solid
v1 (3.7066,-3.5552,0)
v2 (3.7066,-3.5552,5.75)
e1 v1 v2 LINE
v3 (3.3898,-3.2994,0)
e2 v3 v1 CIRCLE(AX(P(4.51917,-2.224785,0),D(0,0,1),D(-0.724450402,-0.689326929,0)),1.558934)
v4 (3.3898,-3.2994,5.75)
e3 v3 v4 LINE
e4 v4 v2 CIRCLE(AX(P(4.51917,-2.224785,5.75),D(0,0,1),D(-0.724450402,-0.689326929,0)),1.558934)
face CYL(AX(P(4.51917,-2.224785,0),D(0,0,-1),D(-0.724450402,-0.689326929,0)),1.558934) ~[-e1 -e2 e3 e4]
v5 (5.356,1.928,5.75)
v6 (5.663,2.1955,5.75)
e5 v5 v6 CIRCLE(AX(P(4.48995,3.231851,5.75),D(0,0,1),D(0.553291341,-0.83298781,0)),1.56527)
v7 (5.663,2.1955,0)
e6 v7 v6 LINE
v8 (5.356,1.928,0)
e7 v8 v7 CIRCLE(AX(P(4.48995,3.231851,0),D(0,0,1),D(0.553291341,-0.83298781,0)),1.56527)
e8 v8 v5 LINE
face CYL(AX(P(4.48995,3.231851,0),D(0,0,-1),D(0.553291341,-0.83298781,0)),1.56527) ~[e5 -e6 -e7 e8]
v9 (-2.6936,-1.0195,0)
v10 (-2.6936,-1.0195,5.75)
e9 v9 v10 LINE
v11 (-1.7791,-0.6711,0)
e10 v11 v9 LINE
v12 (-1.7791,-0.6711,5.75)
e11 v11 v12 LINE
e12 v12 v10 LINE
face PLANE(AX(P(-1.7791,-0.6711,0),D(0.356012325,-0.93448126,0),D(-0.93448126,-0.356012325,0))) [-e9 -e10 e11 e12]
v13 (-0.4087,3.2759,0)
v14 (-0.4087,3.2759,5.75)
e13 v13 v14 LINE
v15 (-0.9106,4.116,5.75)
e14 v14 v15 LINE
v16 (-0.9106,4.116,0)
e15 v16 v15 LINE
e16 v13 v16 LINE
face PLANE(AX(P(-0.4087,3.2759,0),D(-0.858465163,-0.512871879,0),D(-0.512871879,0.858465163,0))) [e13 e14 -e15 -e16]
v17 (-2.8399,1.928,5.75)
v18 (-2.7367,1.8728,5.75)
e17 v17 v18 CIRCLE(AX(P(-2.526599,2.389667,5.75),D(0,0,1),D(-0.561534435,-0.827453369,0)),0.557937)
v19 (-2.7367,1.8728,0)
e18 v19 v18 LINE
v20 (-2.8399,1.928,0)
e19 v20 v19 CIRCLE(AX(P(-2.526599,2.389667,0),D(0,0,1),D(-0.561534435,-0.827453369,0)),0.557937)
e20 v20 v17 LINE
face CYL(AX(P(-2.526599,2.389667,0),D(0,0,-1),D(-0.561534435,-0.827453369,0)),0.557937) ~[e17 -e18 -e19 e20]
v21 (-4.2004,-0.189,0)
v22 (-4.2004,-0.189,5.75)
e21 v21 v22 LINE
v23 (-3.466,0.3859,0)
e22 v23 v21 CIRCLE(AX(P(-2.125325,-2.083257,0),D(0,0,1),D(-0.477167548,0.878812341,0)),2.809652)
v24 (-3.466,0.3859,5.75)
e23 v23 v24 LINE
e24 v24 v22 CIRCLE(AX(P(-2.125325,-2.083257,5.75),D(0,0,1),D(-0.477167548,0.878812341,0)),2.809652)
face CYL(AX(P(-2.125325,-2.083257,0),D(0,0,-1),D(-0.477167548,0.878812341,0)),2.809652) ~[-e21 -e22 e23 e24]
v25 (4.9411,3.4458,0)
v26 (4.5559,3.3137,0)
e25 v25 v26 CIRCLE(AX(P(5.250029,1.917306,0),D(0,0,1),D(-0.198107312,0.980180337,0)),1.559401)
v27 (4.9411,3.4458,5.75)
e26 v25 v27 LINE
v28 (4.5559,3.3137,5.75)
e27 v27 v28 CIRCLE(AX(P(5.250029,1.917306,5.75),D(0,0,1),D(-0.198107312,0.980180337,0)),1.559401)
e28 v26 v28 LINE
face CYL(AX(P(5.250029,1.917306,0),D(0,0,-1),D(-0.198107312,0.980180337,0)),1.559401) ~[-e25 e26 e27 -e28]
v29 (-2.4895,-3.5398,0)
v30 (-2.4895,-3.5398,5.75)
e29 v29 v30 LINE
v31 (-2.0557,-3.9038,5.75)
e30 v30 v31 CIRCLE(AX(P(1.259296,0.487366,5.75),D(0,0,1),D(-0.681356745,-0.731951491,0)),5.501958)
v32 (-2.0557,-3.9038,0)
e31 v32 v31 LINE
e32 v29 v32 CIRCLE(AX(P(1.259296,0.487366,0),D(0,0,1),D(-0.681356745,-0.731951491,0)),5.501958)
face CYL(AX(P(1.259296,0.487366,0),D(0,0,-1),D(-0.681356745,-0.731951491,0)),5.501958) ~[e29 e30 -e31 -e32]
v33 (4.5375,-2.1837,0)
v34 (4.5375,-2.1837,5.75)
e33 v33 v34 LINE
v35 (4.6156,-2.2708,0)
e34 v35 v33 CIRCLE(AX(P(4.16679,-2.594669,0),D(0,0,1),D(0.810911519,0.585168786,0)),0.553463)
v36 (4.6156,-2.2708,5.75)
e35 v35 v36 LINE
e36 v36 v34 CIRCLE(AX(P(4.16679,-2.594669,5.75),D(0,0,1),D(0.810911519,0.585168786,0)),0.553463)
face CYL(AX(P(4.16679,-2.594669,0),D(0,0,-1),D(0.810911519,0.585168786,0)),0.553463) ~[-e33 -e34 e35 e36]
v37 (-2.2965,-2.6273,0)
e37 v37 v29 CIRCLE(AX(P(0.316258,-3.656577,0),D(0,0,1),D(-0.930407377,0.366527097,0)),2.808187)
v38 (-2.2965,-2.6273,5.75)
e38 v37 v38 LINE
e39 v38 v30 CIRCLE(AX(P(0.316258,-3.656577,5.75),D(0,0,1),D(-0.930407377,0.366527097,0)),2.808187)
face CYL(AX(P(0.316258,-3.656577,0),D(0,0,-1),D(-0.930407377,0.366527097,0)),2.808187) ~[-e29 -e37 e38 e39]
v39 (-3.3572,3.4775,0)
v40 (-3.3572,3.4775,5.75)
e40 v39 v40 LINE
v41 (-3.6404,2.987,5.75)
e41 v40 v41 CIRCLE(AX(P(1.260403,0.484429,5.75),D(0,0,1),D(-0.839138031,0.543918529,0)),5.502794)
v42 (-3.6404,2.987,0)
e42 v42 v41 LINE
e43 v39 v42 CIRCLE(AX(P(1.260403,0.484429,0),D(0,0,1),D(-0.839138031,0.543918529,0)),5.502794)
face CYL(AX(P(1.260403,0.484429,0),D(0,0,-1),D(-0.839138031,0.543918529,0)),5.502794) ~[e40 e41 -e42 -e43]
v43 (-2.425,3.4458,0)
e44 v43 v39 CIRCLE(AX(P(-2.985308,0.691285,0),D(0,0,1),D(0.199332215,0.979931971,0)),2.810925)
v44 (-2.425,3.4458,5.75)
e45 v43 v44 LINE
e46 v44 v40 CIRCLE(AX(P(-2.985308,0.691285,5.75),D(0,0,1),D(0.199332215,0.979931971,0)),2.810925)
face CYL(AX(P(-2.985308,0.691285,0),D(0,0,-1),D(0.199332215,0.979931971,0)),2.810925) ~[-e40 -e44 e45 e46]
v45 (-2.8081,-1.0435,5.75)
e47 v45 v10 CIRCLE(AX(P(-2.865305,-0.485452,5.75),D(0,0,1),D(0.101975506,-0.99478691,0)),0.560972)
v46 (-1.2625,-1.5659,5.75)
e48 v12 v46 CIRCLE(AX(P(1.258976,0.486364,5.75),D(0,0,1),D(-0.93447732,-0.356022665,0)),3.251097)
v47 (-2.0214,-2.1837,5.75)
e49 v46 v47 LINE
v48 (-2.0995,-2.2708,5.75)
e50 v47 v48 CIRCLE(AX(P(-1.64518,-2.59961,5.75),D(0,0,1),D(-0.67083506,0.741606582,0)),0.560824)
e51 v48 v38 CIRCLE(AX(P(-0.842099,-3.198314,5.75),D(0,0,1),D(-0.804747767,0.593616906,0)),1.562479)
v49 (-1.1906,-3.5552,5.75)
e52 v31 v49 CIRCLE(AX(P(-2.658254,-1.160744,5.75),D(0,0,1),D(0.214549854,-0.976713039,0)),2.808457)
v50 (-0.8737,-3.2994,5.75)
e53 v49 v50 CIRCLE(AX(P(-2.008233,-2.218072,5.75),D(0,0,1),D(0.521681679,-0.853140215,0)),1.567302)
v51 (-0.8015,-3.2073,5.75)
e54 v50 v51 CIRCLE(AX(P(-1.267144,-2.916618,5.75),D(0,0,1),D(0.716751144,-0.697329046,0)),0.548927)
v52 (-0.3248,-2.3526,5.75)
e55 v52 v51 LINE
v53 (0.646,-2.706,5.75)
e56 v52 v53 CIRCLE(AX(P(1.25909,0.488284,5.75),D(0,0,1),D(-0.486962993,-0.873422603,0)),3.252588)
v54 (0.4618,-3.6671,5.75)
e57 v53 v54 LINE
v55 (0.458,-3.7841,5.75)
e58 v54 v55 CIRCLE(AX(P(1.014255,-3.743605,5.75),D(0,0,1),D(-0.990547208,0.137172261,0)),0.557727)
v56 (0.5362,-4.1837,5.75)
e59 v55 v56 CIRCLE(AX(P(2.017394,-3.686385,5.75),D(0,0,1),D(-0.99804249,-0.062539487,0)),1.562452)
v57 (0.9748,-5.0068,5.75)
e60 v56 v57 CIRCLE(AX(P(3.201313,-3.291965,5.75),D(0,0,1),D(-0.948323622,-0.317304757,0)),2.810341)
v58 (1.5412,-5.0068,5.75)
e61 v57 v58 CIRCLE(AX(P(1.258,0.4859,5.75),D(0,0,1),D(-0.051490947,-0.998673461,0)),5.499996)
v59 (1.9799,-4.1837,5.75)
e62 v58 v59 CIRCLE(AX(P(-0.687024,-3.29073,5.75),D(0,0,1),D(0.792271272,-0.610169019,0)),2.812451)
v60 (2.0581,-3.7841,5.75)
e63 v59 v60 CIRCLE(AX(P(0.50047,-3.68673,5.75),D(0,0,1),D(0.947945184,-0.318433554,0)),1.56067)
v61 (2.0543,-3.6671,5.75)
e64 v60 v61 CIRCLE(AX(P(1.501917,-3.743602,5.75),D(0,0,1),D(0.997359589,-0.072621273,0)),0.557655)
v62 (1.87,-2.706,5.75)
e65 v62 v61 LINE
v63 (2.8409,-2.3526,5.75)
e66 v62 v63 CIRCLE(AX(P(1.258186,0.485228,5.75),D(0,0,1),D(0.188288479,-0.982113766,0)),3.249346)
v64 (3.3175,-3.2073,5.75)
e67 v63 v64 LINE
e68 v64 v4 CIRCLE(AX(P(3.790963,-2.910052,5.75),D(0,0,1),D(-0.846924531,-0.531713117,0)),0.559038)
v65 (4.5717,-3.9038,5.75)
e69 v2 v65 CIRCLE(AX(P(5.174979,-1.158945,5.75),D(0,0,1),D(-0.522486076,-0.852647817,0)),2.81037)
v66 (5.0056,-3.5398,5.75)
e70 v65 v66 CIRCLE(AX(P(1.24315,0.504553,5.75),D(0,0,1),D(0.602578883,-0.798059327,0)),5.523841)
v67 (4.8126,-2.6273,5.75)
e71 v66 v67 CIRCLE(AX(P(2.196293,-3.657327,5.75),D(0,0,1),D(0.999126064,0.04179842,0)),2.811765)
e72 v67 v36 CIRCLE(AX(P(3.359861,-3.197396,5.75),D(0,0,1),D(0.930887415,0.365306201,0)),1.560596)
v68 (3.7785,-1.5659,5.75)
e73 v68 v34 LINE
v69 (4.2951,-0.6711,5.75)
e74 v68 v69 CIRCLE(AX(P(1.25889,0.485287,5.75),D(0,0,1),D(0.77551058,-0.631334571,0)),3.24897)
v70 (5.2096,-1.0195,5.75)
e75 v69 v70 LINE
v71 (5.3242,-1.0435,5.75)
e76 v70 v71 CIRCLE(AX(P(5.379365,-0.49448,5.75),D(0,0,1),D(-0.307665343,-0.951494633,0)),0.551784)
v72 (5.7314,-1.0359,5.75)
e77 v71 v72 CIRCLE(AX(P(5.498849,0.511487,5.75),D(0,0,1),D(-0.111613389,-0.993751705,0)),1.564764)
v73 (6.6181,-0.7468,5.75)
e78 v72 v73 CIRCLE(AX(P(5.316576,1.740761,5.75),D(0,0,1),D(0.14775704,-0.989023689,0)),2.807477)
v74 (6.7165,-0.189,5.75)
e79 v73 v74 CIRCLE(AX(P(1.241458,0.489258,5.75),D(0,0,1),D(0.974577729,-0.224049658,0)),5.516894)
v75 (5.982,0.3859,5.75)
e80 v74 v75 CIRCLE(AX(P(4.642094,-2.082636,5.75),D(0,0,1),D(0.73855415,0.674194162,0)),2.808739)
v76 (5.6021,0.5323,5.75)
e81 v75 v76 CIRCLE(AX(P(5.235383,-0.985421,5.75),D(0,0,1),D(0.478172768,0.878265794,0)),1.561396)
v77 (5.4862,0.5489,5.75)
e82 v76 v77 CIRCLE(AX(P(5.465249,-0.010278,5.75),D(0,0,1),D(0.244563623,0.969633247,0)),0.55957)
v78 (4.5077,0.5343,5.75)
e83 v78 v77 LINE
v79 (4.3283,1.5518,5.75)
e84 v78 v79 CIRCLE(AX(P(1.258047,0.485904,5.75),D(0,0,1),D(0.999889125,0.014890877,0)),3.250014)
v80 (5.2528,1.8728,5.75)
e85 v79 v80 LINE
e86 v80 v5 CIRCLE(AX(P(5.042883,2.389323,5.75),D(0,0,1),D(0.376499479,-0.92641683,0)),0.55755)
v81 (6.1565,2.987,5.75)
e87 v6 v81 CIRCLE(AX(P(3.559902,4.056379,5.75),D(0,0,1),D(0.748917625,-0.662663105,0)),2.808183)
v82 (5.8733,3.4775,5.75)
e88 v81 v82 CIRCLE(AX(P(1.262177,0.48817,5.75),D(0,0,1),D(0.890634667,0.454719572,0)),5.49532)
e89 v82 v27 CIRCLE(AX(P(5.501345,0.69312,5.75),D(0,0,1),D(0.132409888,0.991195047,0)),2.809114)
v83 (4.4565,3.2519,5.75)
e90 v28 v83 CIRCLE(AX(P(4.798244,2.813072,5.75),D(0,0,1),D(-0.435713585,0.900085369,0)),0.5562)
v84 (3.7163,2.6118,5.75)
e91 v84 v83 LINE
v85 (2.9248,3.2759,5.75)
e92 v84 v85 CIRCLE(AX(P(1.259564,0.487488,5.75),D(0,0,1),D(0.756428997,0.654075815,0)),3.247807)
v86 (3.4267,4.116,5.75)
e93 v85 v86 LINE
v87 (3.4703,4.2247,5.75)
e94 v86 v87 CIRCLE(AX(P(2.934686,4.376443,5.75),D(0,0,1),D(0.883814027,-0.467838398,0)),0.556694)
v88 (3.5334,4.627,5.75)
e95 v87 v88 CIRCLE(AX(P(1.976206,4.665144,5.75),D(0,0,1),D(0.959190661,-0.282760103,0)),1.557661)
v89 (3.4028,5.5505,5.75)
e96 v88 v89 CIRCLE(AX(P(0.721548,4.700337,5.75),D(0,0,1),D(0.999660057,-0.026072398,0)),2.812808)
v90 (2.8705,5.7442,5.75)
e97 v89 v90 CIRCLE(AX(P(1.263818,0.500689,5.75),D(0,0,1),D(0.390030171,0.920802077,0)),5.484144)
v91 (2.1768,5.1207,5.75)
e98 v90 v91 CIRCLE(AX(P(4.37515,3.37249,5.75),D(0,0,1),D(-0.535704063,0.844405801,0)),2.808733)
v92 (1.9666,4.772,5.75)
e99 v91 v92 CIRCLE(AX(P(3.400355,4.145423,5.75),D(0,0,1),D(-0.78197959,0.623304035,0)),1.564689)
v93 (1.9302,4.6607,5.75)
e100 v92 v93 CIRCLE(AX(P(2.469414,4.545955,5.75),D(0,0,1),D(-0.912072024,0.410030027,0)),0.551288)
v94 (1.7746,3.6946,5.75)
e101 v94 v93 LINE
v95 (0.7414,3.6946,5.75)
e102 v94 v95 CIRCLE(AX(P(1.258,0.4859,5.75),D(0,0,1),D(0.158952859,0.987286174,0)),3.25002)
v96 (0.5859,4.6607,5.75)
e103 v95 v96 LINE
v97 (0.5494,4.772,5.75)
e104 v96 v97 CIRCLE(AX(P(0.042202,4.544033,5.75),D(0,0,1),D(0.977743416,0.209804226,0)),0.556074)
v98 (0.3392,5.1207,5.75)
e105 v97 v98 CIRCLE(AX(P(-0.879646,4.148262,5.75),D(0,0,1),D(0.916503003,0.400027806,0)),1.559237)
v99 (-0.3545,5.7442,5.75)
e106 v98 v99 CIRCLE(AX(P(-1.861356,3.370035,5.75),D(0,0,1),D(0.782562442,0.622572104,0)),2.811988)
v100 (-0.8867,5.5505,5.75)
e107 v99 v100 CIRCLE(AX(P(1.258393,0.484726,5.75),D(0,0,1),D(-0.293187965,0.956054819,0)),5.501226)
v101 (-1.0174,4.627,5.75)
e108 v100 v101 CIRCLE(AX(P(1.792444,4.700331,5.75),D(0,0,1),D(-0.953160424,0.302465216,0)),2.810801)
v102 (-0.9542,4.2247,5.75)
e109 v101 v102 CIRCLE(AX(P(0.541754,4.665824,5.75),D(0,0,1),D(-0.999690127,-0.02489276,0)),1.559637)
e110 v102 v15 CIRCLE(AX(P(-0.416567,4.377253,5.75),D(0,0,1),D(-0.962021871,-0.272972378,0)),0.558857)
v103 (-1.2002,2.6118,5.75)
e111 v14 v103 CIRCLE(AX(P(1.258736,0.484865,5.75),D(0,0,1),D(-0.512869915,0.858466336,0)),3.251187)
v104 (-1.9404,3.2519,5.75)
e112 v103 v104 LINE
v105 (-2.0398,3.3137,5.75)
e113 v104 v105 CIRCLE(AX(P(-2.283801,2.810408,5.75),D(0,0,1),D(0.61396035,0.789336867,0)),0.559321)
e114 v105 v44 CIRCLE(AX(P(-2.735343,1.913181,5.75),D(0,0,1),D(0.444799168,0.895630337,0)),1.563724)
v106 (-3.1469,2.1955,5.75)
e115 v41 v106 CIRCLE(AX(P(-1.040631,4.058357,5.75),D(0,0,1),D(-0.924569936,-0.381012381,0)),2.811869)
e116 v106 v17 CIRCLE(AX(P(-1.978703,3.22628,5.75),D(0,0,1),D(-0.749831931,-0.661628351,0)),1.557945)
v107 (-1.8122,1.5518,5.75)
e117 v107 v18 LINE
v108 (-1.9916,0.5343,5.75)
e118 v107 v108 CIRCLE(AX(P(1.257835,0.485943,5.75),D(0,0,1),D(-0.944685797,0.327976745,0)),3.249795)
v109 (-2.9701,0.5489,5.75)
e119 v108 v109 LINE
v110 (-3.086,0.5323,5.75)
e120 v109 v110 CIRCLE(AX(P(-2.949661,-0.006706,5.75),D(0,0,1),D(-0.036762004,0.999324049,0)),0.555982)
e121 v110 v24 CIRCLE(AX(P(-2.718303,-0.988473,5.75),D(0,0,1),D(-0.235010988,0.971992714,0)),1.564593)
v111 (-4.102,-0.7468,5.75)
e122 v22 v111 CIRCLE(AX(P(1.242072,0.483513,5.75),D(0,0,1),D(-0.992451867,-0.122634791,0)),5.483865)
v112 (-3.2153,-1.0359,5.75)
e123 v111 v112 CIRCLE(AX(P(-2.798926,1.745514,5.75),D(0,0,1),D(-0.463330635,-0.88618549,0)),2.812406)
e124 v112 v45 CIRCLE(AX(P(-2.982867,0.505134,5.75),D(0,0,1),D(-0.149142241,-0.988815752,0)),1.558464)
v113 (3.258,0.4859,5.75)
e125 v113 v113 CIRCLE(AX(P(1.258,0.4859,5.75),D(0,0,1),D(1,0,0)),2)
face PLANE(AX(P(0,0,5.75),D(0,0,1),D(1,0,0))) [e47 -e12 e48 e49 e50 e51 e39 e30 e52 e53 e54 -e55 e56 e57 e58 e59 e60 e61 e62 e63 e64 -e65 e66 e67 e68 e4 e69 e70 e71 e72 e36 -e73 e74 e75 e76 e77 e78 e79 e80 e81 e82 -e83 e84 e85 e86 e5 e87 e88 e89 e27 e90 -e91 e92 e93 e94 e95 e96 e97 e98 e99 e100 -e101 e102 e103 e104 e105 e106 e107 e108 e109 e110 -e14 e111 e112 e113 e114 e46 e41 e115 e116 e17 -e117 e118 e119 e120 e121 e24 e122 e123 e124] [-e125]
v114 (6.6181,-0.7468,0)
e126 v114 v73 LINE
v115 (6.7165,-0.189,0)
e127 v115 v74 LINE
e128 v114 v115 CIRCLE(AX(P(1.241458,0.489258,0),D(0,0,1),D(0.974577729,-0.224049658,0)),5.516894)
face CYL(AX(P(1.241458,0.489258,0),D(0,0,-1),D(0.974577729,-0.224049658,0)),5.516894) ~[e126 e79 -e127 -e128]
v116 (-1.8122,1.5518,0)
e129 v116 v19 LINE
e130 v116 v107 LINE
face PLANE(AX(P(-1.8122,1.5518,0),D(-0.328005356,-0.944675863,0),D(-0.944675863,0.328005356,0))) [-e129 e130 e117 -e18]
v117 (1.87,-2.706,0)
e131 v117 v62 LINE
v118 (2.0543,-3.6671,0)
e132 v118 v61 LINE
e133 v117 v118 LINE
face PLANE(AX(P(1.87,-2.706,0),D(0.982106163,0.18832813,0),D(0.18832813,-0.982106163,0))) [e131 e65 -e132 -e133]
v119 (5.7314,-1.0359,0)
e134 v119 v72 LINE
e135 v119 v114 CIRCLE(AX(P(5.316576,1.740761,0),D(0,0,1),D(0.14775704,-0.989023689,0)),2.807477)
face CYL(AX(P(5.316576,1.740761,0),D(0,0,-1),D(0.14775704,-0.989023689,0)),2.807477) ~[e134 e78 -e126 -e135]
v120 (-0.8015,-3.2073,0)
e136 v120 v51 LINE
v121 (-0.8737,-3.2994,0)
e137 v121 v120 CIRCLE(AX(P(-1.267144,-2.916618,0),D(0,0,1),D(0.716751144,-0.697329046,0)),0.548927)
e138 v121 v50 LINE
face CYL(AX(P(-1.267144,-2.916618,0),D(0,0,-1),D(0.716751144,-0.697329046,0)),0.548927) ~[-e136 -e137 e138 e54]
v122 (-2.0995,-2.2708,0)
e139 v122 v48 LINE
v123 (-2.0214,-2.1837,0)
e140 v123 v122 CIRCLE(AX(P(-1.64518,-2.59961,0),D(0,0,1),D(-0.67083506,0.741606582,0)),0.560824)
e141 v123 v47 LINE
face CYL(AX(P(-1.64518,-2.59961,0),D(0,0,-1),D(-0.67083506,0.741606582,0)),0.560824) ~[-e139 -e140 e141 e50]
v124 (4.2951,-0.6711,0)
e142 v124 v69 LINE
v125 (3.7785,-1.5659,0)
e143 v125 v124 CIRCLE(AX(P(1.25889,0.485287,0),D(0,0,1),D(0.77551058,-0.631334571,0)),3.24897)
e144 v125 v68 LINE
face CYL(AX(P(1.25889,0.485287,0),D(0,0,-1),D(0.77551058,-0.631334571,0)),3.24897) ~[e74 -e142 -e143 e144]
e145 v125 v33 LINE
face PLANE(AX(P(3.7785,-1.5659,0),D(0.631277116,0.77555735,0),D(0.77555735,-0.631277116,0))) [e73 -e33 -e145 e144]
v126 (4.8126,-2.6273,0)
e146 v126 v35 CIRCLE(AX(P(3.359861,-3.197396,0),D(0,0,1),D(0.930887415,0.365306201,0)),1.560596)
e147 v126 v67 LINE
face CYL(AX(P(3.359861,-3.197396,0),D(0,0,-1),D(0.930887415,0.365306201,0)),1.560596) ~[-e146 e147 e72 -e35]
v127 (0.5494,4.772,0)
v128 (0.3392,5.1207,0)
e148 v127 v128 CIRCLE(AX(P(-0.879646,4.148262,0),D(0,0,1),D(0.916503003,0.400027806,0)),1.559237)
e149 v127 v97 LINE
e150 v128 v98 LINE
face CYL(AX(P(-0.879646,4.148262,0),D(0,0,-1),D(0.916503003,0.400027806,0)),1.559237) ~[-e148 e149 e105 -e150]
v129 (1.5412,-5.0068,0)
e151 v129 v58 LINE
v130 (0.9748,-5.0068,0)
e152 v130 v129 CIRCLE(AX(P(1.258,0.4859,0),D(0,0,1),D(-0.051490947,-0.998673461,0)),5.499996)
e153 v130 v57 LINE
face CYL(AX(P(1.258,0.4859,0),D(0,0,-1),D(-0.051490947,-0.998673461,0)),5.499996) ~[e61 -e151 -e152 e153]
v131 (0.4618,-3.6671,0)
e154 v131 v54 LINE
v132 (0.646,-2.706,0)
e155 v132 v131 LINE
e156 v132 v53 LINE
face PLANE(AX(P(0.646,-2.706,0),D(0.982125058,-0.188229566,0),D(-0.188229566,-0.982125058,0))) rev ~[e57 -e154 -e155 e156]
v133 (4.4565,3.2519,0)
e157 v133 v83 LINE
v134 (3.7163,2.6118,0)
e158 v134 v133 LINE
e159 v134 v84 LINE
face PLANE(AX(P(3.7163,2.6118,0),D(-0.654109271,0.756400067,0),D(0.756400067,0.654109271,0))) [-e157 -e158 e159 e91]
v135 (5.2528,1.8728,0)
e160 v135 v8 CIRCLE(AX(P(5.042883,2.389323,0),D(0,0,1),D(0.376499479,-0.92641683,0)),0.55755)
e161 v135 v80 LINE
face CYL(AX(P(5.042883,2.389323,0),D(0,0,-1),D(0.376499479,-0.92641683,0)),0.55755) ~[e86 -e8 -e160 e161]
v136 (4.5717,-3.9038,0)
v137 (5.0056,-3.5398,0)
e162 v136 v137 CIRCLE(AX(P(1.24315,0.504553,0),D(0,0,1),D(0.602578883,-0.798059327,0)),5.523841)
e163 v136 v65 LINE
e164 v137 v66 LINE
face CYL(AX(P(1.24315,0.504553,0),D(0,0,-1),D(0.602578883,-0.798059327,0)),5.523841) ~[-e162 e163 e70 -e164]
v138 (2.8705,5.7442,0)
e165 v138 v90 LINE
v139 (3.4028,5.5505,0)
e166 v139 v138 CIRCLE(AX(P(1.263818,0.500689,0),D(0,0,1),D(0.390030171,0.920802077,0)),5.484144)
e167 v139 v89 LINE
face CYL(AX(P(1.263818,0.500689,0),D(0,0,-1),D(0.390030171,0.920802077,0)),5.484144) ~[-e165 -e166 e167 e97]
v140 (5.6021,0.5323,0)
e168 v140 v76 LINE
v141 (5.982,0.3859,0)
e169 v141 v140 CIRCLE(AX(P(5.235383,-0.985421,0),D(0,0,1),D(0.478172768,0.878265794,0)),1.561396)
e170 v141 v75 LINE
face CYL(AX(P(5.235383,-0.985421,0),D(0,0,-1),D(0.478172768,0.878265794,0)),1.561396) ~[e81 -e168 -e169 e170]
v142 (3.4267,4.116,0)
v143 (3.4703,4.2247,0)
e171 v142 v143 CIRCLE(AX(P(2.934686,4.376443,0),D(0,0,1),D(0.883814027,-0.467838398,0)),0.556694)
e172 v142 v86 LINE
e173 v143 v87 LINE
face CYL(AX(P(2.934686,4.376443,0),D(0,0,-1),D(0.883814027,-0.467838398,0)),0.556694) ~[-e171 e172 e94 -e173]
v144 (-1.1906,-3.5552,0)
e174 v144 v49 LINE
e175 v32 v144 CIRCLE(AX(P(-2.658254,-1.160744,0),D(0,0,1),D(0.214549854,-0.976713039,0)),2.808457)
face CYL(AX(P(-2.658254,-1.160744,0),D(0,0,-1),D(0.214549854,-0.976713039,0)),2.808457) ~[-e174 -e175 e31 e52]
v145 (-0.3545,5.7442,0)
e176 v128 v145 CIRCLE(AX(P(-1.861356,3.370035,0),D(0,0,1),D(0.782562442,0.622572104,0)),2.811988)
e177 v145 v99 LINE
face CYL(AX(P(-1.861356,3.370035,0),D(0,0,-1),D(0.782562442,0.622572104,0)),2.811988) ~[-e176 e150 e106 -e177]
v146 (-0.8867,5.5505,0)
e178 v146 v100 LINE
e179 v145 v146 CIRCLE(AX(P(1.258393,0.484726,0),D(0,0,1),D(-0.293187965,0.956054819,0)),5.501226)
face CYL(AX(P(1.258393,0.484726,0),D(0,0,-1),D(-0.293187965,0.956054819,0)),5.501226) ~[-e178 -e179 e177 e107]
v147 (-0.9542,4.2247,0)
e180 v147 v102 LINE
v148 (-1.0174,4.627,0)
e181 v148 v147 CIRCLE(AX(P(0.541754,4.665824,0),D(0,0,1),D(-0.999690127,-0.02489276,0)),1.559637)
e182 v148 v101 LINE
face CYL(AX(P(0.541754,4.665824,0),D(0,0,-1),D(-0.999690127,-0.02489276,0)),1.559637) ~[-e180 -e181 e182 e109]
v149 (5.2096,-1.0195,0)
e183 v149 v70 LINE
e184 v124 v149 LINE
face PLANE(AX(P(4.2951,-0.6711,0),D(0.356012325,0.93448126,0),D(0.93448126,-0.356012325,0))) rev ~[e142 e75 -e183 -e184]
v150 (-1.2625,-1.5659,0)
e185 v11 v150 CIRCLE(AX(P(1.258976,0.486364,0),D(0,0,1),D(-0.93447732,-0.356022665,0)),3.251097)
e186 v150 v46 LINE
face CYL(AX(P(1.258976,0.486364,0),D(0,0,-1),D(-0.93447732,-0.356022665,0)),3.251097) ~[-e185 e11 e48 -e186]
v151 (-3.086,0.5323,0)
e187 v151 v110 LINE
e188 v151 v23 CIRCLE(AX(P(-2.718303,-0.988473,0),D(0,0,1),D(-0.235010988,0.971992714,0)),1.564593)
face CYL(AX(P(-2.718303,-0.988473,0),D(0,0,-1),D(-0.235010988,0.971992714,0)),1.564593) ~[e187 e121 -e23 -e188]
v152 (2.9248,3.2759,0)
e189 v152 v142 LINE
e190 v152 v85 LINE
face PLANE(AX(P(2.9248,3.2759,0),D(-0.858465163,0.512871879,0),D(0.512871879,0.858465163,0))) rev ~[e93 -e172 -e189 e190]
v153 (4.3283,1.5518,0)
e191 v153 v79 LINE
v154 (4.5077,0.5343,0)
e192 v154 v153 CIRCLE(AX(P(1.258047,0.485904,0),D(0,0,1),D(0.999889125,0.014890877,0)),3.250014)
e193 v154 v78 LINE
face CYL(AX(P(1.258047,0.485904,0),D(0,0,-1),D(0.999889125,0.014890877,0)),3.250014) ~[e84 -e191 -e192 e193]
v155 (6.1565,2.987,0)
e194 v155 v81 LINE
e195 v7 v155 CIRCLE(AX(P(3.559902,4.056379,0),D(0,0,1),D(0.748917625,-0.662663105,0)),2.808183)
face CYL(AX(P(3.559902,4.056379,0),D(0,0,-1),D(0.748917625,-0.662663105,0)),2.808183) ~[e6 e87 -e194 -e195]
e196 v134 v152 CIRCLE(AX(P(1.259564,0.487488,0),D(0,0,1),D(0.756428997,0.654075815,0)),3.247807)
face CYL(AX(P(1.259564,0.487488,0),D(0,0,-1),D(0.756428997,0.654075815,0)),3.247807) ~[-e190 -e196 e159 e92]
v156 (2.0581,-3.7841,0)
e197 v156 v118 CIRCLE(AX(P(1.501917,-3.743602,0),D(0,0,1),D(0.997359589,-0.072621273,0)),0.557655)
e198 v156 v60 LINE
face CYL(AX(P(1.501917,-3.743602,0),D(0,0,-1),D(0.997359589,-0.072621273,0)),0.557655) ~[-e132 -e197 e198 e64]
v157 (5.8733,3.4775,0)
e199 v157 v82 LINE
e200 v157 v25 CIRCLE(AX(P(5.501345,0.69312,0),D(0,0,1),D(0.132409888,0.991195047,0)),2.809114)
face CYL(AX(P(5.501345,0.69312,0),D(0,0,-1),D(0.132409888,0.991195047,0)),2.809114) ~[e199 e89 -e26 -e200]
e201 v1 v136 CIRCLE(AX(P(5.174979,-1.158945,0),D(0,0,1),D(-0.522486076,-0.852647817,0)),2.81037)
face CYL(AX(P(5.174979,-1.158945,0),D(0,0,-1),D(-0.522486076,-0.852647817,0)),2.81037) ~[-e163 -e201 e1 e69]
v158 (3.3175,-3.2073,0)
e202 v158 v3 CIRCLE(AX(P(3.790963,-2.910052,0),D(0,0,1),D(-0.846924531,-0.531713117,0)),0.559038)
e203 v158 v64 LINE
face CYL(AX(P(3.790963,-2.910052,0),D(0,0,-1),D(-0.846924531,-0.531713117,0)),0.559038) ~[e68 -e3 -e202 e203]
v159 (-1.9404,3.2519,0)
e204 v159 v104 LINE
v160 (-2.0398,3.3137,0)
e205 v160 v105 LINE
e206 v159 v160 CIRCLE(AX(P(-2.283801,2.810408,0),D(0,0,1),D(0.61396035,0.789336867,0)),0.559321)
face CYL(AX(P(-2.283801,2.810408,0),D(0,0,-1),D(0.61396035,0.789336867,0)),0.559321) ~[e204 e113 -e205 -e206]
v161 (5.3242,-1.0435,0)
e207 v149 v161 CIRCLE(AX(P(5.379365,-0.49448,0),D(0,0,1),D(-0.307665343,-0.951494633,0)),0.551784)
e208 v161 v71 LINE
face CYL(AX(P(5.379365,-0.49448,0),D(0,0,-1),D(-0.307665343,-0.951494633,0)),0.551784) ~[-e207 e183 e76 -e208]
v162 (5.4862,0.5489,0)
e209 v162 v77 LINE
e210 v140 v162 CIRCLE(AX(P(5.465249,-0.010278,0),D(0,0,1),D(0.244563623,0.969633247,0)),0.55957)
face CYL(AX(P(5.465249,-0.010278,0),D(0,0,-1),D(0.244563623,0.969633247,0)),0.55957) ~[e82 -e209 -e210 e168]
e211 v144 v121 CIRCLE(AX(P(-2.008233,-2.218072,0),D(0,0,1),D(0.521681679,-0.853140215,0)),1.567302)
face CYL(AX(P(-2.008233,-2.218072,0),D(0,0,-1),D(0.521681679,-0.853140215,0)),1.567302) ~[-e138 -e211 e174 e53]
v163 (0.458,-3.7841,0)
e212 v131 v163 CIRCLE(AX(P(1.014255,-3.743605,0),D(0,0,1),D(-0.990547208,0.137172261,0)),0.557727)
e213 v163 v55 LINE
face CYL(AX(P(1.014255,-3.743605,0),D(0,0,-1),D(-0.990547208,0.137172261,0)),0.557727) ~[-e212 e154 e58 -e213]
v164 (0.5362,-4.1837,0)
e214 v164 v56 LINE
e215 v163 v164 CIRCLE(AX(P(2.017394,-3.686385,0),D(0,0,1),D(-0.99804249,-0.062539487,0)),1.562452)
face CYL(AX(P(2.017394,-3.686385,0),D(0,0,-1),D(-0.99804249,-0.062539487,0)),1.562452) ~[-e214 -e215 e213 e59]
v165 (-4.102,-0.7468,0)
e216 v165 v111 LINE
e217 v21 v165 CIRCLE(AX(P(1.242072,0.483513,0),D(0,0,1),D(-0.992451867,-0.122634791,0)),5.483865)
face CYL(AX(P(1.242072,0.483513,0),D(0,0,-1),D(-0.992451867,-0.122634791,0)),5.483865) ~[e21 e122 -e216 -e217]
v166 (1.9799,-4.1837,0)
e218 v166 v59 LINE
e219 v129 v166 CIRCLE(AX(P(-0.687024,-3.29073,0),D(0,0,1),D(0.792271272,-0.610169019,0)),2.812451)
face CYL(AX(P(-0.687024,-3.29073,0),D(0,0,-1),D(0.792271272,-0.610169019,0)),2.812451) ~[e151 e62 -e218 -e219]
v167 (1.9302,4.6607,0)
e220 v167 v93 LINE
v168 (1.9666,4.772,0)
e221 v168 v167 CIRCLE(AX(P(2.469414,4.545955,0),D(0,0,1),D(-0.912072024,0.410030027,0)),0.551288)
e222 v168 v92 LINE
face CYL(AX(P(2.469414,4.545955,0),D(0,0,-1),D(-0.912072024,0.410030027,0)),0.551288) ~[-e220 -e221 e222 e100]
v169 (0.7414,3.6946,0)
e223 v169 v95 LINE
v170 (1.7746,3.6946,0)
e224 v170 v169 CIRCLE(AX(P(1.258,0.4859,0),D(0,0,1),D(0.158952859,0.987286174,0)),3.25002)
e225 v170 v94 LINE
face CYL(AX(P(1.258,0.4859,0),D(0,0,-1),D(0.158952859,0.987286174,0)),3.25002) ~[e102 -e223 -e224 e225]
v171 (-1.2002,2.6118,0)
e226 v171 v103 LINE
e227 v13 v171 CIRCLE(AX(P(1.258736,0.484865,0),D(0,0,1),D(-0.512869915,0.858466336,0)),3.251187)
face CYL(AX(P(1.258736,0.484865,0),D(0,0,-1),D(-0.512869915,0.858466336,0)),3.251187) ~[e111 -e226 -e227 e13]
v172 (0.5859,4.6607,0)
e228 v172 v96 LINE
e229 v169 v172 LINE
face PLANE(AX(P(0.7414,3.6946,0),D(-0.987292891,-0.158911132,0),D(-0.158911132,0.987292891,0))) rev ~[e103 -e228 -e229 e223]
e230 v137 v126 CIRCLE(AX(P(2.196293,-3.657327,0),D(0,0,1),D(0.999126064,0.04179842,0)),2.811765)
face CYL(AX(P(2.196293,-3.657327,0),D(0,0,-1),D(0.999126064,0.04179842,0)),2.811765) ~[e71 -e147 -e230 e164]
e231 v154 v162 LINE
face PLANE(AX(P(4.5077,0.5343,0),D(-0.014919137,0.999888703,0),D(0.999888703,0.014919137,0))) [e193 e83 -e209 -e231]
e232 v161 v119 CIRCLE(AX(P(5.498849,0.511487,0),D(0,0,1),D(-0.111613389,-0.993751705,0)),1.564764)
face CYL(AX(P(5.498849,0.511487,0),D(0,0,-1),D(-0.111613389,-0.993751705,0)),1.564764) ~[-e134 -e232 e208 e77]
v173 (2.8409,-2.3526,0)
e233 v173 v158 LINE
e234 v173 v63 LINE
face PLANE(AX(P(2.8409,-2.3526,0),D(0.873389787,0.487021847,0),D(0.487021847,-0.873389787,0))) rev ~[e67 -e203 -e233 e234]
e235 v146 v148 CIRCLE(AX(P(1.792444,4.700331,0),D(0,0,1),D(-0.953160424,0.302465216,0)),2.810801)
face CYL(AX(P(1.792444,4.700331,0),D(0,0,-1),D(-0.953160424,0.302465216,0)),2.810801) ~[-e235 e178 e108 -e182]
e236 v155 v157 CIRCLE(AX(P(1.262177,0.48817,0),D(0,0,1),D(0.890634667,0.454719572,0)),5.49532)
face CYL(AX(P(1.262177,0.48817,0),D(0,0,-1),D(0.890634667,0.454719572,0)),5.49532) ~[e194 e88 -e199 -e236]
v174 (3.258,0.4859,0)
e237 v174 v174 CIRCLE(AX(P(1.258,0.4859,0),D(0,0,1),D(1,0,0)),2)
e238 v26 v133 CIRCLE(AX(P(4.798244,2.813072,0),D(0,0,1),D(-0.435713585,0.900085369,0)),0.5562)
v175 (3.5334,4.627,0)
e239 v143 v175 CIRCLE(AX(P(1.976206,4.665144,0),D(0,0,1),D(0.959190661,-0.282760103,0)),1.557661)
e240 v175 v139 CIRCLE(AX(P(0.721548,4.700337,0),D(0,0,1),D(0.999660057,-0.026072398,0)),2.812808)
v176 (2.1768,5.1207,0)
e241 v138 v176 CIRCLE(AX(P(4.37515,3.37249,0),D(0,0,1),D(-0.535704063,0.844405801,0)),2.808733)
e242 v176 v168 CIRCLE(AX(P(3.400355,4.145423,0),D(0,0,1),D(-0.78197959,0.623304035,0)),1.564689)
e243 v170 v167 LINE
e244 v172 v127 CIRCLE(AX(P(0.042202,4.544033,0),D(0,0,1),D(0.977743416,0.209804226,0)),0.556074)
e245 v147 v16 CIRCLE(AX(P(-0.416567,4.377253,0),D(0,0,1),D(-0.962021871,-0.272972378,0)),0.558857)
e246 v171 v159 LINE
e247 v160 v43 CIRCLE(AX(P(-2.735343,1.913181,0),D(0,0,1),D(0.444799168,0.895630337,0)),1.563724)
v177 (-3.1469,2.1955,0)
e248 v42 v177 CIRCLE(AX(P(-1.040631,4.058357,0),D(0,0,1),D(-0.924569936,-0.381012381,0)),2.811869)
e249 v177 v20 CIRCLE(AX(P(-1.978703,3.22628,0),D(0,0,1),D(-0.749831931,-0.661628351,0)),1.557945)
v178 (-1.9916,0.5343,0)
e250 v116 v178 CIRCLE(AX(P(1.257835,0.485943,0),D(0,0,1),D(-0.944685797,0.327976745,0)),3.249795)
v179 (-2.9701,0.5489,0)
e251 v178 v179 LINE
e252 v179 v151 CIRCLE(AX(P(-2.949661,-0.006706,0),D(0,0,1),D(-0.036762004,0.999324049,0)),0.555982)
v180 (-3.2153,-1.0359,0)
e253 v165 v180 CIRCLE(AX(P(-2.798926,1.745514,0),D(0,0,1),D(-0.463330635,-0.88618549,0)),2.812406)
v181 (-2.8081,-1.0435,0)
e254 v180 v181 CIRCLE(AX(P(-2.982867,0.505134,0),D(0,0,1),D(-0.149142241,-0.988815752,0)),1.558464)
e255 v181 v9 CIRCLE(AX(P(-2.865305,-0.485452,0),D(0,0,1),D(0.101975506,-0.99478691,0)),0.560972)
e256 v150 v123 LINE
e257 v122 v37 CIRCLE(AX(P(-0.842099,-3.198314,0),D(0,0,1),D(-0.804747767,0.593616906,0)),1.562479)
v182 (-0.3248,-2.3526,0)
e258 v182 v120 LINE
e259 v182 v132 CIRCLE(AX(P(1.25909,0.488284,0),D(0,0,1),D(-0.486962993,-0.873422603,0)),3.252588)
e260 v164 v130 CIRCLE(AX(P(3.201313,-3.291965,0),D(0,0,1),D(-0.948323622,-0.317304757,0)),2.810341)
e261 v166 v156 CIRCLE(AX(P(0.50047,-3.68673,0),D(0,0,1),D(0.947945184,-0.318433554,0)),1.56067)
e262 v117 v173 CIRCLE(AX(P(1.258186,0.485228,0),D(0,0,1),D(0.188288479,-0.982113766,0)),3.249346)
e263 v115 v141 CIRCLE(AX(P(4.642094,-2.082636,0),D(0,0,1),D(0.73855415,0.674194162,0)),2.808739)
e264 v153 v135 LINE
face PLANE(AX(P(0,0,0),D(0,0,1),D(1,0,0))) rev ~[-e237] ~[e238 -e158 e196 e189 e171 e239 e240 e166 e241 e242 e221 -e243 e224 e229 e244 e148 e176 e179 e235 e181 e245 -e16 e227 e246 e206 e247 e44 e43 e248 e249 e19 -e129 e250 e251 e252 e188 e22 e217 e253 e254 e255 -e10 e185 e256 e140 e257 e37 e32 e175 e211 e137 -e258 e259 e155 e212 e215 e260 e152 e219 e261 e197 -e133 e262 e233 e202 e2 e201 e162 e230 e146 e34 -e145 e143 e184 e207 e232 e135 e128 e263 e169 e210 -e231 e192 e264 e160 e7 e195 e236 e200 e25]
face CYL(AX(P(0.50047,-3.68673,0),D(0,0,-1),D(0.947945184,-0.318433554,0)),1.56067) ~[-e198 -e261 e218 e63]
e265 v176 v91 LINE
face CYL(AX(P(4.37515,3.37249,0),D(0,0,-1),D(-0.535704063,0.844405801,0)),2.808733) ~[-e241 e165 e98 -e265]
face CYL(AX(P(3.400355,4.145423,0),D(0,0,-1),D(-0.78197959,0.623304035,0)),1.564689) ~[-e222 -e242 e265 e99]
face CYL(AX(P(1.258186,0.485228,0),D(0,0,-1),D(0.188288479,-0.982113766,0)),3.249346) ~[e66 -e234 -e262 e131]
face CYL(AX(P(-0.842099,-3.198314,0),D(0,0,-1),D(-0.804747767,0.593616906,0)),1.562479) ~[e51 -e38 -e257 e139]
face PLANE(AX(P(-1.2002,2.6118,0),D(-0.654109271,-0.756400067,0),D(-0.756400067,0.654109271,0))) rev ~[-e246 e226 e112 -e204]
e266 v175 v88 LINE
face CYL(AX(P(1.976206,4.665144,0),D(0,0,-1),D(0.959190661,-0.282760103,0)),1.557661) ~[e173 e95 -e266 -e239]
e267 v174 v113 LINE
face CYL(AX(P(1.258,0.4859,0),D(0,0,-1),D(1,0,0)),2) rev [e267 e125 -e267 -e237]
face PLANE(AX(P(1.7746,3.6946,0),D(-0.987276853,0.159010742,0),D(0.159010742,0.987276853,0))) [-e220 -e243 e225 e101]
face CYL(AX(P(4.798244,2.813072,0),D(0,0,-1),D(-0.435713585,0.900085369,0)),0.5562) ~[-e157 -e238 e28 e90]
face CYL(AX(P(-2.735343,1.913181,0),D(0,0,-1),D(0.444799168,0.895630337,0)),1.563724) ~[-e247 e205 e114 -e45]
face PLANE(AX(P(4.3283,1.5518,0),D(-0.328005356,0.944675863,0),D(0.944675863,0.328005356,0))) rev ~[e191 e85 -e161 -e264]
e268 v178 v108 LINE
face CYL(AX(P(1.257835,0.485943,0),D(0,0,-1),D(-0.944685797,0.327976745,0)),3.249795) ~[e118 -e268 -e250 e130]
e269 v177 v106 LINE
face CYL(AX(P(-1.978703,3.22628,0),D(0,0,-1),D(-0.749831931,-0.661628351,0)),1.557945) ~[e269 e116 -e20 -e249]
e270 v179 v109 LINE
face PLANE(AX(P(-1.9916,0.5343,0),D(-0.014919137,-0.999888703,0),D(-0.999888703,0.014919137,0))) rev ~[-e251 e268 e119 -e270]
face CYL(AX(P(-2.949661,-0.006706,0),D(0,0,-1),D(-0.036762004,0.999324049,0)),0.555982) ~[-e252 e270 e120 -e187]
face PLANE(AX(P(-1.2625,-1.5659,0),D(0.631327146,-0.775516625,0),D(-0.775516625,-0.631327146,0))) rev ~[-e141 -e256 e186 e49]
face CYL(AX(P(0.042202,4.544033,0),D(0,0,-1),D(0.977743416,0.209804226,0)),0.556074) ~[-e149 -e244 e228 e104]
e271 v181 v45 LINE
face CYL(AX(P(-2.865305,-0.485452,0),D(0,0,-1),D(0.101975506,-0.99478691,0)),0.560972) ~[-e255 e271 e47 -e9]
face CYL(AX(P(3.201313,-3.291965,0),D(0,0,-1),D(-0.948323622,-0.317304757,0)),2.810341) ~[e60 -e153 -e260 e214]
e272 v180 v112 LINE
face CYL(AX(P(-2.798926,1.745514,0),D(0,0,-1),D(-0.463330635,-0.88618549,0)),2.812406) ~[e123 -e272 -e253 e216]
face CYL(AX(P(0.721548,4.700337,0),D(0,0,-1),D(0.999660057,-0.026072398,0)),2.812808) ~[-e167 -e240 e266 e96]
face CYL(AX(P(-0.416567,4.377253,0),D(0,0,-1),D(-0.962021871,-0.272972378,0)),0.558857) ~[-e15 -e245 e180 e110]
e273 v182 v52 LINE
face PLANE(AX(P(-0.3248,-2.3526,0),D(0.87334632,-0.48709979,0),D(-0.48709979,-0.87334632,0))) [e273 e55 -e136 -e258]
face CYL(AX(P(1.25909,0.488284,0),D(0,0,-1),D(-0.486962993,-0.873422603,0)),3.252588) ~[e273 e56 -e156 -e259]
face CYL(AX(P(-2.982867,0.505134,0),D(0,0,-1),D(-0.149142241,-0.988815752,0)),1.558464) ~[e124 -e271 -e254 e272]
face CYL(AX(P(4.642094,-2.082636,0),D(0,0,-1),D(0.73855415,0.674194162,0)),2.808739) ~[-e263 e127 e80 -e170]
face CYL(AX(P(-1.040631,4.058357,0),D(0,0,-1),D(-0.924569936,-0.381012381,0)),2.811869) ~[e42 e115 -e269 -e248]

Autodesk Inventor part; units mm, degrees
ref_plane "YZ Plane" through (0, 0, 0) normal (1, 0, 0) x (0, 1, 0)
ref_plane "XZ Plane" through (0, 0, 0) normal (0, 1, 0) x (-1, 0, 0)
ref_plane "XY Plane" through (0, 0, 0) normal (0, 0, 1) x (1, 0, 0)
sketch "スケッチ1" plane through (0, 0, 0) normal (0, 0, 1) x (1, 0, 0)
  arc A0 (1.9666, 4.772) -> (1.9302, 4.6607) centre (2.4755, 4.5436) ccw
  arc A1 (2.1768, 5.1207) -> (1.9666, 4.772) centre (3.3978, 4.1472) ccw
  arc A2 (2.8705, 5.7442) -> (2.1768, 5.1207) centre (4.3759, 3.3715) ccw
  arc A3 (0.5859, 4.6607) -> (0.5494, 4.772) centre (0.0406, 4.5436) ccw
  arc A4 (0.5494, 4.772) -> (0.3392, 5.1207) centre (-0.8817, 4.1472) ccw
  arc A5 (0.3392, 5.1207) -> (-0.3545, 5.7442) centre (-1.8598, 3.3715) ccw
  arc A6 (1.7746, 3.6946) -> (0.7414, 3.6946) centre (1.258, 0.4859) ccw
  arc A7 (-0.3545, 5.7442) -> (-0.8867, 5.5505) centre (1.258, 0.4859) ccw
  line L0 (1.7746, 3.6946) -> (1.9302, 4.6607)
  line L1 (0.7414, 3.6946) -> (0.5859, 4.6607)
  line L2 (-1.2002, 2.6118) -> (-1.9404, 3.2519)
  arc A8 (-1.9404, 3.2519) -> (-2.0398, 3.3137) centre (-2.2829, 2.8117) ccw
  arc A9 (-2.0398, 3.3137) -> (-2.425, 3.4458) centre (-2.7345, 1.9152) ccw
  arc A10 (-2.425, 3.4458) -> (-3.3572, 3.4775) centre (-2.9852, 0.6922) ccw
  arc A11 (-3.3572, 3.4775) -> (-3.6404, 2.987) centre (1.258, 0.4859) ccw
  arc A12 (-0.4087, 3.2759) -> (-1.2002, 2.6118) centre (1.258, 0.4859) ccw
  arc A13 (-0.9542, 4.2247) -> (-0.9106, 4.116) centre (-0.4176, 4.3769) ccw
  line L3 (-0.4087, 3.2759) -> (-0.9106, 4.116)
  arc A14 (-1.0174, 4.627) -> (-0.9542, 4.2247) centre (0.5437, 4.666) ccw
  arc A15 (-0.8867, 5.5505) -> (-1.0174, 4.627) centre (1.7917, 4.7005) ccw
  line L4 (-1.9916, 0.5343) -> (-2.9701, 0.5489)
  arc A16 (-2.9701, 0.5489) -> (-3.086, 0.5323) centre (-2.9495, -0.0085) ccw
  arc A17 (-3.086, 0.5323) -> (-3.466, 0.3859) centre (-2.7192, -0.9856) ccw
  arc A18 (-3.466, 0.3859) -> (-4.2004, -0.189) centre (-2.1251, -2.0836) ccw
  arc A19 (-4.2004, -0.189) -> (-4.102, -0.7468) centre (1.258, 0.4859) ccw
  arc A20 (-1.8122, 1.5518) -> (-1.9916, 0.5343) centre (1.258, 0.4859) ccw
  arc A21 (-2.8399, 1.928) -> (-2.7367, 1.8728) centre (-2.5267, 2.3895) ccw
  line L5 (-1.8122, 1.5518) -> (-2.7367, 1.8728)
  arc A22 (-3.1469, 2.1955) -> (-2.8399, 1.928) centre (-1.9761, 3.2289) ccw
  arc A23 (-3.6404, 2.987) -> (-3.1469, 2.1955) centre (-1.0423, 4.0575) ccw
  line L6 (-1.2625, -1.5659) -> (-2.0214, -2.1837)
  arc A24 (-2.0214, -2.1837) -> (-2.0995, -2.2708) centre (-1.6474, -2.5974) ccw
  arc A25 (-2.0995, -2.2708) -> (-2.2965, -2.6273) centre (-0.8429, -3.1978) ccw
  arc A26 (-2.2965, -2.6273) -> (-2.4895, -3.5398) centre (0.318, -3.6571) ccw
  arc A27 (-2.4895, -3.5398) -> (-2.0557, -3.9038) centre (1.258, 0.4859) ccw
  arc A28 (-1.7791, -0.6711) -> (-1.2625, -1.5659) centre (1.258, 0.4859) ccw
  arc A29 (-2.8081, -1.0435) -> (-2.6936, -1.0195) centre (-2.8648, -0.4887) ccw
  line L7 (-1.7791, -0.6711) -> (-2.6936, -1.0195)
  arc A30 (-3.2153, -1.0359) -> (-2.8081, -1.0435) centre (-2.9826, 0.5083) ccw
  arc A31 (-4.102, -0.7468) -> (-3.2153, -1.0359) centre (-2.7999, 1.7432) ccw
  line L8 (0.646, -2.706) -> (0.4618, -3.6671)
  arc A32 (0.4618, -3.6671) -> (0.458, -3.7841) centre (1.0142, -3.7436) ccw
  arc A33 (0.458, -3.7841) -> (0.5362, -4.1837) centre (2.0165, -3.6865) ccw
  arc A34 (0.5362, -4.1837) -> (0.9748, -5.0068) centre (3.201, -3.2921) ccw
  arc A35 (0.9748, -5.0068) -> (1.5412, -5.0068) centre (1.258, 0.4859) ccw
  arc A36 (-0.3248, -2.3526) -> (0.646, -2.706) centre (1.258, 0.4859) ccw
  arc A37 (-0.8737, -3.2994) -> (-0.8015, -3.2073) centre (-1.2738, -2.9108) ccw
  line L9 (-0.3248, -2.3526) -> (-0.8015, -3.2073)
  arc A38 (-1.1906, -3.5552) -> (-0.8737, -3.2994) centre (-2.0049, -2.2228) ccw
  arc A39 (-2.0557, -3.9038) -> (-1.1906, -3.5552) centre (-2.6587, -1.1593) ccw
  line L10 (2.8409, -2.3526) -> (3.3175, -3.2073)
  arc A40 (3.3175, -3.2073) -> (3.3898, -3.2994) centre (3.7899, -2.9108) ccw
  arc A41 (3.3898, -3.2994) -> (3.7066, -3.5552) centre (4.521, -2.2228) ccw
  arc A42 (3.7066, -3.5552) -> (4.5717, -3.9038) centre (5.1748, -1.1593) ccw
  arc A43 (4.5717, -3.9038) -> (5.0056, -3.5398) centre (1.258, 0.4859) ccw
  arc A44 (1.87, -2.706) -> (2.8409, -2.3526) centre (1.258, 0.4859) ccw
  arc A45 (2.0581, -3.7841) -> (2.0543, -3.6671) centre (1.5018, -3.7436) ccw
  line L11 (1.87, -2.706) -> (2.0543, -3.6671)
  arc A46 (1.9799, -4.1837) -> (2.0581, -3.7841) centre (0.4996, -3.6865) ccw
  arc A47 (1.5412, -5.0068) -> (1.9799, -4.1837) centre (-0.6849, -3.2921) ccw
  line L12 (4.2951, -0.6711) -> (5.2096, -1.0195)
  arc A48 (5.2096, -1.0195) -> (5.3242, -1.0435) centre (5.3809, -0.4887) ccw
  arc A49 (5.3242, -1.0435) -> (5.7314, -1.0359) centre (5.4987, 0.5083) ccw
  arc A50 (5.7314, -1.0359) -> (6.6181, -0.7468) centre (5.316, 1.7432) ccw
  arc A51 (6.6181, -0.7468) -> (6.7165, -0.189) centre (1.258, 0.4859) ccw
  arc A52 (3.7785, -1.5659) -> (4.2951, -0.6711) centre (1.258, 0.4859) ccw
  arc A53 (4.6156, -2.2708) -> (4.5375, -2.1837) centre (4.1634, -2.5974) ccw
  line L13 (3.7785, -1.5659) -> (4.5375, -2.1837)
  arc A54 (4.8126, -2.6273) -> (4.6156, -2.2708) centre (3.359, -3.1978) ccw
  arc A55 (5.0056, -3.5398) -> (4.8126, -2.6273) centre (2.1981, -3.6571) ccw
  line L14 (4.3283, 1.5518) -> (5.2528, 1.8728)
  arc A56 (5.2528, 1.8728) -> (5.356, 1.928) centre (5.0428, 2.3895) ccw
  arc A57 (5.356, 1.928) -> (5.663, 2.1955) centre (4.4922, 3.2289) ccw
  arc A58 (5.663, 2.1955) -> (6.1565, 2.987) centre (3.5584, 4.0575) ccw
  arc A59 (6.1565, 2.987) -> (5.8733, 3.4775) centre (1.258, 0.4859) ccw
  arc A60 (4.5077, 0.5343) -> (4.3283, 1.5518) centre (1.258, 0.4859) ccw
  arc A61 (5.6021, 0.5323) -> (5.4862, 0.5489) centre (5.4656, -0.0085) ccw
  line L15 (4.5077, 0.5343) -> (5.4862, 0.5489)
  arc A62 (5.982, 0.3859) -> (5.6021, 0.5323) centre (5.2353, -0.9856) ccw
  arc A63 (6.7165, -0.189) -> (5.982, 0.3859) centre (4.6412, -2.0836) ccw
  line L16 (2.9248, 3.2759) -> (3.4267, 4.116)
  arc A64 (3.4267, 4.116) -> (3.4703, 4.2247) centre (2.9337, 4.3769) ccw
  arc A65 (3.4703, 4.2247) -> (3.5334, 4.627) centre (1.9724, 4.666) ccw
  arc A66 (3.5334, 4.627) -> (3.4028, 5.5505) centre (0.7244, 4.7005) ccw
  arc A67 (3.4028, 5.5505) -> (2.8705, 5.7442) centre (1.258, 0.4859) ccw
  arc A68 (3.7163, 2.6118) -> (2.9248, 3.2759) centre (1.258, 0.4859) ccw
  arc A69 (4.5559, 3.3137) -> (4.4565, 3.2519) centre (4.799, 2.8117) ccw
  line L17 (3.7163, 2.6118) -> (4.4565, 3.2519)
  arc A70 (4.9411, 3.4458) -> (4.5559, 3.3137) centre (5.2506, 1.9152) ccw
  arc A71 (5.8733, 3.4775) -> (4.9411, 3.4458) centre (5.5013, 0.6922) ccw
  circle A72 centre (1.258, 0.4859) radius 2
  point P0 (0, 0)
  point P1 (3.7163, 2.6118)
  point P2 (2.9248, 3.2759)
  point P3 (3.4678, 4.2162)
  point P4 (3.5333, 4.6228)
  point P5 (3.4028, 5.5505)
  point P6 (2.8705, 5.7442)
  point P7 (2.1742, 5.1175)
  point P8 (1.9631, 4.7639)
  point P9 (1.7746, 3.6946)
  point P10 (0.7414, 3.6946)
  point P11 (0.5859, 4.6607)
  point P12 (0.553, 4.7639)
  point P13 (0.3418, 5.1175)
  point P14 (-0.3545, 5.7442)
  point P15 (-0.8867, 5.5505)
  point P16 (-1.0172, 4.6228)
  point P17 (-0.9517, 4.2162)
  point P18 (-1.2002, 2.6118)
  point P19 (-2.0319, 3.3098)
  point P20 (-2.4209, 3.445)
  point P21 (-3.3572, 3.4775)
  point P22 (-3.6404, 2.987)
  point P23 (-3.1441, 2.1924)
  point P24 (-2.8326, 1.9231)
  point P25 (-1.8122, 1.5518)
  point P26 (-1.9916, 0.5343)
  point P27 (-2.9701, 0.5489)
  point P28 (-3.0774, 0.5344)
  point P29 (-3.4623, 0.3879)
  point P30 (-4.2004, -0.189)
  point P31 (-4.102, -0.7468)
  point P32 (-3.2111, -1.0365)
  point P33 (-2.7994, -1.0426)
  point P34 (-1.7791, -0.6711)
  point P35 (-1.2625, -1.5659)
  point P36 (-2.0214, -2.1837)
  point P37 (-2.0943, -2.2638)
  point P38 (-2.2949, -2.6234)
  point P39 (-2.4895, -3.5398)
  point P40 (-2.0557, -3.9038)
  point P41 (-1.187, -3.5531)
  point P42 (-0.8677, -3.293)
  point P43 (-0.8015, -3.2073)
  point P44 (-0.3248, -2.3526)
  point P45 (0.4574, -3.7753)
  point P46 (0.5349, -4.1798)
  point P47 (0.9748, -5.0068)
  point P48 (1.5412, -5.0068)
  point P49 (1.9812, -4.1798)
  point P50 (2.0587, -3.7753)
  point P51 (2.0543, -3.6671)
  point P52 (1.87, -2.706)
  point P53 (2.8409, -2.3526)
  point P54 (3.3175, -3.2073)
  point P55 (3.3838, -3.293)
  point P56 (3.7031, -3.5531)
  point P57 (4.5717, -3.9038)
  point P58 (5.0056, -3.5398)
  point P59 (4.811, -2.6234)
  point P60 (4.6104, -2.2638)
  point P61 (4.5375, -2.1837)
  point P62 (5.3155, -1.0426)
  point P63 (5.7272, -1.0365)
  point P64 (6.6181, -0.7468)
  point P65 (6.7165, -0.189)
  point P66 (5.9784, 0.3879)
  point P67 (5.5935, 0.5344)
  point P68 (5.3487, 1.9231)
  point P69 (5.6602, 2.1924)
  point P70 (6.1565, 2.987)
  point P71 (5.8733, 3.4775)
  point P72 (4.937, 3.445)
  point P73 (4.548, 3.3098)
  point P74 (4.4565, 3.2519)
  dimension "d2" = 360
  dimension "d4" = 4
extrude "押し出し1" add sketch "スケッチ1" along normal blind 5.75
properties part number "m1歯数9ギアd4t5" material "鋼、炭素鋼"
